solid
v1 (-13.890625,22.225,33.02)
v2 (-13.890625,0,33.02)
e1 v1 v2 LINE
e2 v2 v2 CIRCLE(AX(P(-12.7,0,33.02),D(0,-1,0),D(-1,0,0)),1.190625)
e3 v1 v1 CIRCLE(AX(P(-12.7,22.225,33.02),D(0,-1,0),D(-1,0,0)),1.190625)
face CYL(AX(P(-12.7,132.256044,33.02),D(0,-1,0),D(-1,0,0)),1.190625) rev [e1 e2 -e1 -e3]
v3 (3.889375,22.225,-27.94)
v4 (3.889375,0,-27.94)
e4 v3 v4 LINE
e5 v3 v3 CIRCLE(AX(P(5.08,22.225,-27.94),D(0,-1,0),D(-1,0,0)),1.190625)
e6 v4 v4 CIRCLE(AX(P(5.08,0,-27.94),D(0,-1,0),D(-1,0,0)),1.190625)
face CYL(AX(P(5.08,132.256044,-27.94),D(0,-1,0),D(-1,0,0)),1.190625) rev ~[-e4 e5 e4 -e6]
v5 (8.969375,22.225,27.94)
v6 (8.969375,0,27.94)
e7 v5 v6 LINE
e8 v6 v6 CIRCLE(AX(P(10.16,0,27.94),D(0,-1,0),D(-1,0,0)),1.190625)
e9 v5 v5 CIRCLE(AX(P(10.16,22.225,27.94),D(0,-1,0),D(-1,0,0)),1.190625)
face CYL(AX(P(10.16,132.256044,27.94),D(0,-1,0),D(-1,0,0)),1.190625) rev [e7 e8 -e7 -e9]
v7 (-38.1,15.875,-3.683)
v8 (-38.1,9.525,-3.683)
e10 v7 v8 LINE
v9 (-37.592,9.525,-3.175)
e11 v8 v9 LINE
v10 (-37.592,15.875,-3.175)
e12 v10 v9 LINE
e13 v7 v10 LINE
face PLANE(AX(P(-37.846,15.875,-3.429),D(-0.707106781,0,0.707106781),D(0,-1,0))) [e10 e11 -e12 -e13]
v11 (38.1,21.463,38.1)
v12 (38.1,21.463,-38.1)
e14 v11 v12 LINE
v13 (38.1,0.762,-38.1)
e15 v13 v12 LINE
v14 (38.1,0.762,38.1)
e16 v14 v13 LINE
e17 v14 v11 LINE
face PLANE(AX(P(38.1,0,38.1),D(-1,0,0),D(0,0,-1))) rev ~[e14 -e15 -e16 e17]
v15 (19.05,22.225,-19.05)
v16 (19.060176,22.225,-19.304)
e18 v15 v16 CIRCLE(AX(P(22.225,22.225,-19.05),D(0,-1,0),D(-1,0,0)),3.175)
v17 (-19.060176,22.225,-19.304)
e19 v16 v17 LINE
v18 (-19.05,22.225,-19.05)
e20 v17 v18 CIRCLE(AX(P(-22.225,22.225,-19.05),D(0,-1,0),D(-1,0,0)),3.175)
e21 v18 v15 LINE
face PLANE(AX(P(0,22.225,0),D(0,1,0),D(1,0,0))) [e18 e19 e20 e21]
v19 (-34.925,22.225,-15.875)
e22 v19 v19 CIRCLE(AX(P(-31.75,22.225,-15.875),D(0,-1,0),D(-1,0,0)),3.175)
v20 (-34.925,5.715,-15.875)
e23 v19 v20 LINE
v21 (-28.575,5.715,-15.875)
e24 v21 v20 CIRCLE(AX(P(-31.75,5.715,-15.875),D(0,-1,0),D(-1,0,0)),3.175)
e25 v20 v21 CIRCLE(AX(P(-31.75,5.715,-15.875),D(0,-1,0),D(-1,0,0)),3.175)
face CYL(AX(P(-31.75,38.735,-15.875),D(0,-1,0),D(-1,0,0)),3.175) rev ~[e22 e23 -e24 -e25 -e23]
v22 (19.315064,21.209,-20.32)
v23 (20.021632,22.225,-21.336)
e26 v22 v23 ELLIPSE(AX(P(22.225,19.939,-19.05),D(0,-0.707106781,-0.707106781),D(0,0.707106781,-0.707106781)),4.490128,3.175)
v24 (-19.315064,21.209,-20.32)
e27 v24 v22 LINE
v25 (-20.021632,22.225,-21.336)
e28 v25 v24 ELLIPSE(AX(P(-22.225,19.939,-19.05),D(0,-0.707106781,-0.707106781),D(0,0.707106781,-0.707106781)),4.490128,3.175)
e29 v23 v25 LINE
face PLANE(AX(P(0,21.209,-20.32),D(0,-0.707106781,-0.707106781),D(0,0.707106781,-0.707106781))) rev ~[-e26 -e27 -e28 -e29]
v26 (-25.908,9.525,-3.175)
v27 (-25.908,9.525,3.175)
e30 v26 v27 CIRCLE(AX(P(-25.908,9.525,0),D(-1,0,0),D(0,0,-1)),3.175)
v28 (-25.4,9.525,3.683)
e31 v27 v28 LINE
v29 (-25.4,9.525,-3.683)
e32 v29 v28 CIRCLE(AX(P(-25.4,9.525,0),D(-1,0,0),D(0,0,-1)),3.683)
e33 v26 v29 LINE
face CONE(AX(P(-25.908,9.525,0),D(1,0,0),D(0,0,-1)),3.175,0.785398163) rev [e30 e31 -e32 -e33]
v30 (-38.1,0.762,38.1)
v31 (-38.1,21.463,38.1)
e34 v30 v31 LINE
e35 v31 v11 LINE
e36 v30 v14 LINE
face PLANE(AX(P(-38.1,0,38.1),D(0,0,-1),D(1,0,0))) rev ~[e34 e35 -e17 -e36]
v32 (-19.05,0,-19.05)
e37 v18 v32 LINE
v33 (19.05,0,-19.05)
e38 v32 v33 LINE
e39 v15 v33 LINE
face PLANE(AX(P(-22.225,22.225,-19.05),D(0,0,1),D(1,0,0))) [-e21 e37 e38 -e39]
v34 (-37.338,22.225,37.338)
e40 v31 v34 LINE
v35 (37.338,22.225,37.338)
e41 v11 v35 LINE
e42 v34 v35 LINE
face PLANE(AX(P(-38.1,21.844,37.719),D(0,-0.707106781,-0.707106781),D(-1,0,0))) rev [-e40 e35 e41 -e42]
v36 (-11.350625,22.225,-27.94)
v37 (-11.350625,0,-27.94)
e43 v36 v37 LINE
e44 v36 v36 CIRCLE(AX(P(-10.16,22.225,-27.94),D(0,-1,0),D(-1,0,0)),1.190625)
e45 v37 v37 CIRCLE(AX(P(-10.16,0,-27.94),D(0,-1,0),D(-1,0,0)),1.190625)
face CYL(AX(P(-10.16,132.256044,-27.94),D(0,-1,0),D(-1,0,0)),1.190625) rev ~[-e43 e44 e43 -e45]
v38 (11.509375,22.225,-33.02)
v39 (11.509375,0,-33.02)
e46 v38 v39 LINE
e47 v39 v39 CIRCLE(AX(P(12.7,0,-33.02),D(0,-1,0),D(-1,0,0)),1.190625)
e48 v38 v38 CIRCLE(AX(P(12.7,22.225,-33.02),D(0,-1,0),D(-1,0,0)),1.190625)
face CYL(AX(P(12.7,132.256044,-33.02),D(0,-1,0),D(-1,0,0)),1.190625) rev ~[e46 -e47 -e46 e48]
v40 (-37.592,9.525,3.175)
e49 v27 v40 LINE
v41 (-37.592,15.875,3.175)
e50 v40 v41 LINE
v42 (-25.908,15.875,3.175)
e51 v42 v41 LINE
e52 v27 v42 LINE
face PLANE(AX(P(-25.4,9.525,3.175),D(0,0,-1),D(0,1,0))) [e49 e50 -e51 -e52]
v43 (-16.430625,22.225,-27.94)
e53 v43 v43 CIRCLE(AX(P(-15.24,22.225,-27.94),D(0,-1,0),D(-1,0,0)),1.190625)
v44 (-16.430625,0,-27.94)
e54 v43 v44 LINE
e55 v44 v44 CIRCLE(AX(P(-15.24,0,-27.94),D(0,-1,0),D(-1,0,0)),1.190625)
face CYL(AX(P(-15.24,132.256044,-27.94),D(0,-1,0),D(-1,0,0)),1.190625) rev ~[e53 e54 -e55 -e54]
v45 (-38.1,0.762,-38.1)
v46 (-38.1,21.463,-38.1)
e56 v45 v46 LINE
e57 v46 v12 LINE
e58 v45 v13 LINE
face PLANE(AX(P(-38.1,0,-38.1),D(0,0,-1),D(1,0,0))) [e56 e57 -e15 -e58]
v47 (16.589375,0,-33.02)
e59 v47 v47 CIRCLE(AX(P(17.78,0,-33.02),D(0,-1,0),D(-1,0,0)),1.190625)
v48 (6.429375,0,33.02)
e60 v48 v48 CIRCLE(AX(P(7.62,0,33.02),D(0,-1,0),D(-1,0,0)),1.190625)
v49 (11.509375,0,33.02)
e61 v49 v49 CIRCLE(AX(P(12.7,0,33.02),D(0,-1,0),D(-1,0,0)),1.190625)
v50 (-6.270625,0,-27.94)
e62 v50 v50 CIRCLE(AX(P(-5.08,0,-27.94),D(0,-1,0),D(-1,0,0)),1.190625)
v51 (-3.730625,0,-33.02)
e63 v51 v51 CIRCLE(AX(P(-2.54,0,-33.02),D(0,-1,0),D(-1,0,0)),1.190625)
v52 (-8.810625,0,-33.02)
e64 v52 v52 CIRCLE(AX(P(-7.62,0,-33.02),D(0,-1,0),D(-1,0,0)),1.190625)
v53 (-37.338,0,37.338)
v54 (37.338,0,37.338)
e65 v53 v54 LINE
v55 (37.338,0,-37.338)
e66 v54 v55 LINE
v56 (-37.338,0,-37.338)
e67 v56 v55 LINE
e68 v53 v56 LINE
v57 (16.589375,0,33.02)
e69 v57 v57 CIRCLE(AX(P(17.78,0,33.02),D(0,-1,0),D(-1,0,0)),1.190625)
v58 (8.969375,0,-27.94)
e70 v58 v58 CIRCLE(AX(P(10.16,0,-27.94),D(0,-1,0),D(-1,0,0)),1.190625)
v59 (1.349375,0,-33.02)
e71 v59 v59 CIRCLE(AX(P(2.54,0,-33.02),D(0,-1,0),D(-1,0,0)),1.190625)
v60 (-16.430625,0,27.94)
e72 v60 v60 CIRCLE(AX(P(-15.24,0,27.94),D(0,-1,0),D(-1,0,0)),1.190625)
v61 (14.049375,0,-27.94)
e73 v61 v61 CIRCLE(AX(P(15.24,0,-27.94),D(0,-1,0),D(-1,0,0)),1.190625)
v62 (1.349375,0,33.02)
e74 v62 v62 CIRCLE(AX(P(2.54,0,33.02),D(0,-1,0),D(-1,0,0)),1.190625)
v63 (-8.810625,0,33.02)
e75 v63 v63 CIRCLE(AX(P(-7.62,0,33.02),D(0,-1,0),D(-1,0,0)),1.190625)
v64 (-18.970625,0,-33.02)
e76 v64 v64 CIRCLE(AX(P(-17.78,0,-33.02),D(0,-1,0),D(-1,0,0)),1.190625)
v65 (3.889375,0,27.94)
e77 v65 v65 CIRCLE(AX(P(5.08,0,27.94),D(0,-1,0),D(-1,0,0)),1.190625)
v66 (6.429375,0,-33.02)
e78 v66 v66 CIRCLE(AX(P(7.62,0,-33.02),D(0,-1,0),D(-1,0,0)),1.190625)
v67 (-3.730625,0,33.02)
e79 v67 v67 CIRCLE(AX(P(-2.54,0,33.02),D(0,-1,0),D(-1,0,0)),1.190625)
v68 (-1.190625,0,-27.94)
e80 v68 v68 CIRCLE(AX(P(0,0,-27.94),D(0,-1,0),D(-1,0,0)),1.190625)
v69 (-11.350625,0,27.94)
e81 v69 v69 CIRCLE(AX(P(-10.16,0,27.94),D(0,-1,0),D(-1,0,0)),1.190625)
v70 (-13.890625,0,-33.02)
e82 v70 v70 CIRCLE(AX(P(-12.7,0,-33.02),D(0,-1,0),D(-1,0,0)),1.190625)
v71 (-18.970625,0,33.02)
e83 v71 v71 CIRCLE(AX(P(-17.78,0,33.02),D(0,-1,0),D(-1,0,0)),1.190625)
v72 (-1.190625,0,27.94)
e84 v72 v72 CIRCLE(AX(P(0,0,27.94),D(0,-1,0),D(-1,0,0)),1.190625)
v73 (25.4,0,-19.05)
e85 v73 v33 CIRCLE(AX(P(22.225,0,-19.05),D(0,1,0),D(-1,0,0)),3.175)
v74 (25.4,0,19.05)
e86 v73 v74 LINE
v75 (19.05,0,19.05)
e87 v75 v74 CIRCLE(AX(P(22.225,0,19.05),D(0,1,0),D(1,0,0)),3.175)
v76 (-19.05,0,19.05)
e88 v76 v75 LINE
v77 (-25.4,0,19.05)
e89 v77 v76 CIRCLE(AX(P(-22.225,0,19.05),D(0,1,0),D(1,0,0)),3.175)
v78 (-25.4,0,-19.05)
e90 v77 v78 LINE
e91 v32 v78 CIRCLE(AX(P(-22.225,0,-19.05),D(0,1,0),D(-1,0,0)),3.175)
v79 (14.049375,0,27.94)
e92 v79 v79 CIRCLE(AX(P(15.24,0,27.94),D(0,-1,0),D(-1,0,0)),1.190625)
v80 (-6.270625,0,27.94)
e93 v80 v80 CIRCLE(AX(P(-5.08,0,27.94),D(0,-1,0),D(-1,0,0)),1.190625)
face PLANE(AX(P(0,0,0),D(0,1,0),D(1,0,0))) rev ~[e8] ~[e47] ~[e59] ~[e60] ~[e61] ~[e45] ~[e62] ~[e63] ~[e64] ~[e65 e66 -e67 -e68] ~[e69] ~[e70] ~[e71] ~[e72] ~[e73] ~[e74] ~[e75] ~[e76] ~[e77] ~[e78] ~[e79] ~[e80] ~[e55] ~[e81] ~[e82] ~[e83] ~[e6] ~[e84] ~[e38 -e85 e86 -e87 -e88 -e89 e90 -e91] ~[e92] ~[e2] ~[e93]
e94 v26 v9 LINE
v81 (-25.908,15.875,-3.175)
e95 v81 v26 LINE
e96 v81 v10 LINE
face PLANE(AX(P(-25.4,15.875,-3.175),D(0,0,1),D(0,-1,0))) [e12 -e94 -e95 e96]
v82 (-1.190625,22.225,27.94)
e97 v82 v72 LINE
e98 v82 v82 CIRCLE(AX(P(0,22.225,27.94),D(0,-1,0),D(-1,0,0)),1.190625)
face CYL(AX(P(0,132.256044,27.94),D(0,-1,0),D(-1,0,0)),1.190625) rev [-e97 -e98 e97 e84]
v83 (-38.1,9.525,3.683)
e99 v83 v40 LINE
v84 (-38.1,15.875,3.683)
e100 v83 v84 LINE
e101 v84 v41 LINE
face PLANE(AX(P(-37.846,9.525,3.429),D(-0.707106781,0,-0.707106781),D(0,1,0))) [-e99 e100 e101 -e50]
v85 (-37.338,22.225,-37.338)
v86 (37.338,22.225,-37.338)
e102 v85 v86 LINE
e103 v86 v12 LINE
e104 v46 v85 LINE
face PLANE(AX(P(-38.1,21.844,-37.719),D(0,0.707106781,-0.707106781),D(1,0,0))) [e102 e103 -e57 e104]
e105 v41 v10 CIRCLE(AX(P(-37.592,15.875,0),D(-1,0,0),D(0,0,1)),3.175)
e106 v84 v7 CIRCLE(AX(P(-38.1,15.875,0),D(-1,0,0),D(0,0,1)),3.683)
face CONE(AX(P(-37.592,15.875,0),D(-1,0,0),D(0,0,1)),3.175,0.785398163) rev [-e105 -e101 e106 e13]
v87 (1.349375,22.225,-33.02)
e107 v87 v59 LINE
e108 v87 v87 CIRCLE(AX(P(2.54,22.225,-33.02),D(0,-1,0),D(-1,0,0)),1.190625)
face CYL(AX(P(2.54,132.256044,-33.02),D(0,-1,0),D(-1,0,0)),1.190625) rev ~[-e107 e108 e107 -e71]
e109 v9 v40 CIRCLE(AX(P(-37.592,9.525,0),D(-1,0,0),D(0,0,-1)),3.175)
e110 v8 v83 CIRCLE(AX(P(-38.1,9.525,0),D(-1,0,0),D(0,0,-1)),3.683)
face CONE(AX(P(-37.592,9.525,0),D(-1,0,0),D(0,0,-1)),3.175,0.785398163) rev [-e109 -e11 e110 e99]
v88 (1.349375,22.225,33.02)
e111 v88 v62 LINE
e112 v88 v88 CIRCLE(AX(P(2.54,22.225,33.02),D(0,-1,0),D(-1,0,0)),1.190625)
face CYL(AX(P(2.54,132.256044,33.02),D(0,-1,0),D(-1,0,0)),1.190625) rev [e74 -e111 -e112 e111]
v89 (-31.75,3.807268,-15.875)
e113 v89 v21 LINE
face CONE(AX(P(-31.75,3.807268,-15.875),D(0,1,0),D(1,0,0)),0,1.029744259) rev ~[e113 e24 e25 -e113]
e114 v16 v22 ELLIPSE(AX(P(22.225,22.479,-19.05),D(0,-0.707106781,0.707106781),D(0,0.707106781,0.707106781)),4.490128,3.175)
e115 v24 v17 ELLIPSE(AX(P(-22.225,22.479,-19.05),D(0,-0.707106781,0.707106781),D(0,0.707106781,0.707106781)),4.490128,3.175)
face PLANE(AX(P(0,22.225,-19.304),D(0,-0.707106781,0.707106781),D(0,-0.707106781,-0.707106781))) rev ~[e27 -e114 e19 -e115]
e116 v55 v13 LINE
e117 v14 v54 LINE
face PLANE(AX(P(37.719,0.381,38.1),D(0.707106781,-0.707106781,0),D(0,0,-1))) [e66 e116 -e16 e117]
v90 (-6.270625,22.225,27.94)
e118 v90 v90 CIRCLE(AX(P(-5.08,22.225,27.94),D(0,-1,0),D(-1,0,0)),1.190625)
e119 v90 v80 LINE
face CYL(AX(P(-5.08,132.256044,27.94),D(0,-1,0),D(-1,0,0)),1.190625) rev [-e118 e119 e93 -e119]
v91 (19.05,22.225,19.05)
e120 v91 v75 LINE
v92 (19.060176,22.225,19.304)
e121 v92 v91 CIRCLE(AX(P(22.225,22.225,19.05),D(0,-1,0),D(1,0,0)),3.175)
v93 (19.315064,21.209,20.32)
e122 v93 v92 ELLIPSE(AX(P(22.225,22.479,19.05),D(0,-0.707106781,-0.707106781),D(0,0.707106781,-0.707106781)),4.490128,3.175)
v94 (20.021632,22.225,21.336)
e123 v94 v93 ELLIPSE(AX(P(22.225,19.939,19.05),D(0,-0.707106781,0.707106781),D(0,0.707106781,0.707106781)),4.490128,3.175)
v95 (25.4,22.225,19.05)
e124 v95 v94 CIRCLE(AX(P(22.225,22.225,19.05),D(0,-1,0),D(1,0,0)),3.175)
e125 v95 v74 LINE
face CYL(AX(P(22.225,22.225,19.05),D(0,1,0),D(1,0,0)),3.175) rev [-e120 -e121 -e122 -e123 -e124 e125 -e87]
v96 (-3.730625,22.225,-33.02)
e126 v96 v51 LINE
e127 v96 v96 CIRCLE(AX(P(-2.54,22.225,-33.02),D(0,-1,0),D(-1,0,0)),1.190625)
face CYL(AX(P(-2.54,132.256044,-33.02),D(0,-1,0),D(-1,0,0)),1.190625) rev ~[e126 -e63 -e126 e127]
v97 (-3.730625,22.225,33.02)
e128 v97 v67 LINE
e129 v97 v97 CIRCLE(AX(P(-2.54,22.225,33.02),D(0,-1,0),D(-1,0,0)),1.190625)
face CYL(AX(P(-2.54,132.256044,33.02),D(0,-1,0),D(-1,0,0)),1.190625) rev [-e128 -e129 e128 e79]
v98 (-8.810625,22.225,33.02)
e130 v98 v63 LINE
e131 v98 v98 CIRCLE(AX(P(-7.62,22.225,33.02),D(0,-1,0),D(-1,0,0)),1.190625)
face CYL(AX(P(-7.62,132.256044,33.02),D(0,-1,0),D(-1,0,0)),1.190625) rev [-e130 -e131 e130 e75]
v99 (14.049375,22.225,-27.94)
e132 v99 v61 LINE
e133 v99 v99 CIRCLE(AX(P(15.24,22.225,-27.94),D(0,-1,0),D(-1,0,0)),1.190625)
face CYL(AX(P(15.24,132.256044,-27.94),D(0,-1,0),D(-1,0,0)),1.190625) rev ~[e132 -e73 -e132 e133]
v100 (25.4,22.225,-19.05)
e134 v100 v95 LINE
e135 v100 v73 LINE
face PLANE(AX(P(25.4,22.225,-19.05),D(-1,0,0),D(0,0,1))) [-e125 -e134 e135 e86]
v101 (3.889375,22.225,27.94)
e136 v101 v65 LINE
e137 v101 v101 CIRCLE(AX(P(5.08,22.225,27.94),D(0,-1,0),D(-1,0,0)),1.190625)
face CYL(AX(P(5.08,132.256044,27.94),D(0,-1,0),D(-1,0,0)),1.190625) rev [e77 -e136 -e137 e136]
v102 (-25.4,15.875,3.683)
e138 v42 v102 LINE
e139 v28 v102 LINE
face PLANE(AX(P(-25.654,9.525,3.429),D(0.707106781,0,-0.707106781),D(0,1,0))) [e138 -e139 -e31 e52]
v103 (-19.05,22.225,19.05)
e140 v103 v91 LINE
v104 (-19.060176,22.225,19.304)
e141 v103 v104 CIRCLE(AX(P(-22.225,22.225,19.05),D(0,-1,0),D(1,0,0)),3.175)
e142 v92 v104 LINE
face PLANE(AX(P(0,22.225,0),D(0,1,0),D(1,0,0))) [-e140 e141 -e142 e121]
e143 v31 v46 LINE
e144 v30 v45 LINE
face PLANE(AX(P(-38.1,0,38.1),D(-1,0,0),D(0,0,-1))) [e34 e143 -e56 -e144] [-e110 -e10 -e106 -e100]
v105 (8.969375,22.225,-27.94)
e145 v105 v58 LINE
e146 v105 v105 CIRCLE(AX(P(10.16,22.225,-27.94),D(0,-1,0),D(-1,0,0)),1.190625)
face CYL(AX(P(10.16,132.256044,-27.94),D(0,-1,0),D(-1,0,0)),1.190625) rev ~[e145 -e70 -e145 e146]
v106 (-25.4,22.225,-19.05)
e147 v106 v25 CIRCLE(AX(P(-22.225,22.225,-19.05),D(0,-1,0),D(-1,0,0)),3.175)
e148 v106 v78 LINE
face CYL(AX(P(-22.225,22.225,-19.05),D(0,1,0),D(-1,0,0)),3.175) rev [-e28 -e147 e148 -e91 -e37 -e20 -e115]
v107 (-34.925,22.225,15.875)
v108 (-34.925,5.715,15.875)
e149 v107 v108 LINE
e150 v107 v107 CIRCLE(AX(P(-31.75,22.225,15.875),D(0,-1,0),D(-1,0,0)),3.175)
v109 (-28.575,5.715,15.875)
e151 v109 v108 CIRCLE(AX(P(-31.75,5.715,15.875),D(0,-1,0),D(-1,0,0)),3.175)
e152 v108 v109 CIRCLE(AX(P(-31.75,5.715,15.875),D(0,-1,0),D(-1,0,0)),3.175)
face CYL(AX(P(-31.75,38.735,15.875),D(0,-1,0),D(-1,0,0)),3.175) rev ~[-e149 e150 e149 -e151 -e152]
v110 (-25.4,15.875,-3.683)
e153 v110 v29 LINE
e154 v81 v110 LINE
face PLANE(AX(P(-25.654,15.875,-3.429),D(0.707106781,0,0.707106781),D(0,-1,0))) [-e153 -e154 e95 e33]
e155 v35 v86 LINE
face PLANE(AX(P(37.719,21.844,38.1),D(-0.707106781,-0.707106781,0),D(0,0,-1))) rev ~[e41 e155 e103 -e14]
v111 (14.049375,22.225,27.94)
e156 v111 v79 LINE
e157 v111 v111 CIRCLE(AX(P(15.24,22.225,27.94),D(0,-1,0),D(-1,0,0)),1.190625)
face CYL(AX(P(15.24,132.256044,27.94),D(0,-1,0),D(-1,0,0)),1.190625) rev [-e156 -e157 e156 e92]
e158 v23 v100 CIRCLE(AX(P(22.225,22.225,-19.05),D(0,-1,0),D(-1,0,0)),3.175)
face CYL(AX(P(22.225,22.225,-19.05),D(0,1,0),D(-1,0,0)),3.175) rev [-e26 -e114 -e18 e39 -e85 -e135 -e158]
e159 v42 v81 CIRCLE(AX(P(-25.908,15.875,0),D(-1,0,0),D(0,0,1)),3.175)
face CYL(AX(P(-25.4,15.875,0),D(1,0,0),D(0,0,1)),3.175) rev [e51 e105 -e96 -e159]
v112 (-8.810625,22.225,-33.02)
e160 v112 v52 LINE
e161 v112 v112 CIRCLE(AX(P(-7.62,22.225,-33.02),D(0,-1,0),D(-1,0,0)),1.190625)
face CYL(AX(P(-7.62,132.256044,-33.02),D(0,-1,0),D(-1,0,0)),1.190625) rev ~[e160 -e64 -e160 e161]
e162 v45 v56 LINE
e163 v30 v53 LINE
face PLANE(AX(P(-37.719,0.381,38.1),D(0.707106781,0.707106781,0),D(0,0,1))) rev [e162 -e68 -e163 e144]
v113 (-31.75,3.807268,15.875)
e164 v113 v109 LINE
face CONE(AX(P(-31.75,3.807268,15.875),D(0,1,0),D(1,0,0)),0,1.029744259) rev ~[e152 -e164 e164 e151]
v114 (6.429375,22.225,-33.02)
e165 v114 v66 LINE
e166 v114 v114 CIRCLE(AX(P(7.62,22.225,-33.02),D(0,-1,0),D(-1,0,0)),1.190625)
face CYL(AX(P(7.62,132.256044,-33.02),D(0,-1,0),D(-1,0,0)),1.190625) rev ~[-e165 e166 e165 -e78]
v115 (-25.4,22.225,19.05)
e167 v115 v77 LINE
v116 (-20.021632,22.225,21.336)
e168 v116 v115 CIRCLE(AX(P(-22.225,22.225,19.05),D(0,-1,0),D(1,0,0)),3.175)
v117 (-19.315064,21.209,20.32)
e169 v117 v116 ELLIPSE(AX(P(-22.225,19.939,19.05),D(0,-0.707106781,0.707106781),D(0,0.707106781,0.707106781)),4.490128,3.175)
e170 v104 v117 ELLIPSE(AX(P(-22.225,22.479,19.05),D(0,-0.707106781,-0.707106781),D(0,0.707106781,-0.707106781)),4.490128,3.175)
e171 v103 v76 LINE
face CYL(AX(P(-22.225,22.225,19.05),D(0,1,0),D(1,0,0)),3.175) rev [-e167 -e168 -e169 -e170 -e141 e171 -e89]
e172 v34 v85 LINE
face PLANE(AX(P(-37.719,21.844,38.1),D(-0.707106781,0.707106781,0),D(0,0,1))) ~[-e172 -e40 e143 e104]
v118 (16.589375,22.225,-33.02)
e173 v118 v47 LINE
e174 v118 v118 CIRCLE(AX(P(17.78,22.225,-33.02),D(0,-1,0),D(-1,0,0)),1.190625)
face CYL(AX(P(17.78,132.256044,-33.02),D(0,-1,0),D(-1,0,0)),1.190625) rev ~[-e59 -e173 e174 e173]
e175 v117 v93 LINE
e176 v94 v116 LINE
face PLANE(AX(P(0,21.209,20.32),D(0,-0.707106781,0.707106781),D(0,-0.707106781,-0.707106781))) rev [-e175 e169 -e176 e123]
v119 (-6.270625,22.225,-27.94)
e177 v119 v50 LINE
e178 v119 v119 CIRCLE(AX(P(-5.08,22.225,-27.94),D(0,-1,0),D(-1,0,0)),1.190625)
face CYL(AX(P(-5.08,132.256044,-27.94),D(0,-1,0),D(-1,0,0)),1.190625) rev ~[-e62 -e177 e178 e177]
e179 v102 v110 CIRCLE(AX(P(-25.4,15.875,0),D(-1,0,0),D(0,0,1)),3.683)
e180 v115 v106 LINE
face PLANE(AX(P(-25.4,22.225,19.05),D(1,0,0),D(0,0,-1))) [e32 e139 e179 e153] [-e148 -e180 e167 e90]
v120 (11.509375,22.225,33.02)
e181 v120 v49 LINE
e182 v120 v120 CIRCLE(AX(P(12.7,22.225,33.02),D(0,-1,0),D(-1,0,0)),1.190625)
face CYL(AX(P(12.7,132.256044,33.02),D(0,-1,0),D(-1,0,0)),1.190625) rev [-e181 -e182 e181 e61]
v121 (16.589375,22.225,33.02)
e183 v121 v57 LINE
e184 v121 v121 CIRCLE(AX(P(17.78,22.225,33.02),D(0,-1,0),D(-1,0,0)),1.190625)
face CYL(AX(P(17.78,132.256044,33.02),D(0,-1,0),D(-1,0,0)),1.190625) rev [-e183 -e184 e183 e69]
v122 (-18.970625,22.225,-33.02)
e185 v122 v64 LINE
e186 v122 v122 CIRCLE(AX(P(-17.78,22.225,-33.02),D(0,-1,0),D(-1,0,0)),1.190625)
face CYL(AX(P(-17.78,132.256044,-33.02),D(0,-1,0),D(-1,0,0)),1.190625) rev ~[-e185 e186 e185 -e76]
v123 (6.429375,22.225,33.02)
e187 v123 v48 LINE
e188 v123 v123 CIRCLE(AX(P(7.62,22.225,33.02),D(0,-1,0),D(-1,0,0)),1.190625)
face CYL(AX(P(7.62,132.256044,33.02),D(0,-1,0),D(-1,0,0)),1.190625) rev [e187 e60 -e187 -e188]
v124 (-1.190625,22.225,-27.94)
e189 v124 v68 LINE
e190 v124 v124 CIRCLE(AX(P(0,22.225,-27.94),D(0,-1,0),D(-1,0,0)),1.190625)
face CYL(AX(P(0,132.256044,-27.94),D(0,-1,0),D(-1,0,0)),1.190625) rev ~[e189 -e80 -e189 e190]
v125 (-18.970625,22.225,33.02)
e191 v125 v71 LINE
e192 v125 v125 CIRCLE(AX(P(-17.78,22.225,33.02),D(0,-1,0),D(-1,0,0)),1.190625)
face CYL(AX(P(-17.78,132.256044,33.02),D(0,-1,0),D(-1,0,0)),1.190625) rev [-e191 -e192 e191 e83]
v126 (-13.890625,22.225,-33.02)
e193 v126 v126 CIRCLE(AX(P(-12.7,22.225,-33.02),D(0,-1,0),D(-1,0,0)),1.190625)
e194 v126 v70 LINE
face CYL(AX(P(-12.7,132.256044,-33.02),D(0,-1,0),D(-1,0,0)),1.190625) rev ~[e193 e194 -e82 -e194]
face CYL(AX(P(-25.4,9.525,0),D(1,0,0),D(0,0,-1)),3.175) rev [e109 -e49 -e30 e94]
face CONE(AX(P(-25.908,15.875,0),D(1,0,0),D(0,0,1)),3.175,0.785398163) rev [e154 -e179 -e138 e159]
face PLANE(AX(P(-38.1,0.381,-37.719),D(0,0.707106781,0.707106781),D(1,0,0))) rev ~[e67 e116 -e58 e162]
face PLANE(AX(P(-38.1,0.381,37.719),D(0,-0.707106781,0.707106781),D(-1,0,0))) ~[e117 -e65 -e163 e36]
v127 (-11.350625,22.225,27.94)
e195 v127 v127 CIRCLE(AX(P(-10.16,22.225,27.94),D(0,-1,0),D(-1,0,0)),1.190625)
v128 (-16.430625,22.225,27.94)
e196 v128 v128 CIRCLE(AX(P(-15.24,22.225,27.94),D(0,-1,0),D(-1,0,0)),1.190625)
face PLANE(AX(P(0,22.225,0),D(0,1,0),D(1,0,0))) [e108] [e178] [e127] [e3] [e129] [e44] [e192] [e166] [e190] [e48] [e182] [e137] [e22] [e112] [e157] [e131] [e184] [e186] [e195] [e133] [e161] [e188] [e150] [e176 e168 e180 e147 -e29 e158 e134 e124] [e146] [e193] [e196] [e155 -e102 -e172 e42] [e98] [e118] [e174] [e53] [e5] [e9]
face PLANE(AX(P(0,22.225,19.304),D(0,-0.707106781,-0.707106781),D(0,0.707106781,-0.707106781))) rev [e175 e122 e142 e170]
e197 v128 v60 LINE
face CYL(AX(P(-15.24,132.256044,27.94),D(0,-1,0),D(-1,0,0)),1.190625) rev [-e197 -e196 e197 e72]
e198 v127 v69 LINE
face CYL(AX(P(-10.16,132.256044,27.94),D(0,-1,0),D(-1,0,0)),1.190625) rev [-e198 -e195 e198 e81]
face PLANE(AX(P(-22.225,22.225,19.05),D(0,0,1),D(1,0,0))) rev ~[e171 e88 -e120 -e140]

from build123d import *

# Parameters (mm, degrees)
SKETCH1_W                       = 76.2
SKETCH1_H                       = 76.2
BOSS_EXTRUDE1_DEPTH             = 22.225
SKETCH2_W                       = 44.45
SKETCH2_H                       = 38.1
CUT_EXTRUDE1_DEPTH              = 59.285252208
CUT_EXTRUDE2_DEPTH              = 59.285252208
F_3_32_0_09375_DIAMETER_HOLE1_D = 2.38125
CUT_EXTRUDE4_DEPTH              = 21.59
CUT_EXTRUDE5_REACH              = 79.316
CHAMFER1_SIZE                   = 0.762
CHAMFER2_SIZE                   = 0.508
F_1_4_0_25_DIAMETER_HOLE1_D     = 6.35
F_1_4_0_25_DIAMETER_HOLE1_DEPTH = 16.51
F_1_4_0_25_DIAMETER_HOLE1_TIP   = 1.907732465


with BuildPart() as part:
    # Sketch1 → Boss-Extrude1 (new body)
    with BuildSketch(Plane(origin=(0, 0, 0), x_dir=(1, 0, 0), z_dir=(0, 1, 0))):
        Rectangle(SKETCH1_W, SKETCH1_H)
    extrude(amount=BOSS_EXTRUDE1_DEPTH)

    # Sketch2 → Cut-Extrude1 (cut, through all)
    with BuildSketch(Plane(origin=(0, 22.225, 0), x_dir=(1, 0, 0), z_dir=(0, 1, 0))):
        Rectangle(SKETCH2_W, SKETCH2_H)
    extrude(amount=-CUT_EXTRUDE1_DEPTH, mode=Mode.SUBTRACT)

    # Sketch3 → Cut-Extrude2 (cut, through all)
    with BuildSketch(Plane(origin=(0, 22.225, 0), x_dir=(1, 0, 0), z_dir=(0, 1, 0))):
        with BuildLine():
            Line((-19.05, 19.05), (-19.05, -19.05))
            ThreePointArc((-19.05, -19.05), (-22.225, -22.225), (-25.4, -19.05))
            Line((-25.4, -19.05), (-25.4, 19.05))
            ThreePointArc((-25.4, 19.05), (-22.225, 22.225), (-19.05, 19.05))
        make_face()
        with BuildLine():
            Line((25.4, 19.05), (25.4, -19.05))
            ThreePointArc((25.4, -19.05), (22.225, -22.225), (19.05, -19.05))
            Line((19.05, -19.05), (19.05, 19.05))
            ThreePointArc((19.05, 19.05), (22.225, 22.225), (25.4, 19.05))
        make_face()
    extrude(amount=-CUT_EXTRUDE2_DEPTH, mode=Mode.SUBTRACT)

    # 3/32 (0.09375) Diameter Hole1 (through all)
    with Locations(Plane(origin=(0, 22.225, 0), x_dir=(1, 0, 0), z_dir=(0, 1, 0))):
        with Locations((-15.24, 27.94), (15.24, 27.94), (-17.78, 33.02), (17.78, 33.02), (-12.7, 33.02), (-7.62, 33.02), (-2.54, 33.02), (2.54, 33.02), (7.62, 33.02), (12.7, 33.02), (-10.16, 27.94), (-5.08, 27.94), (0, 27.94), (5.08, 27.94), (10.16, 27.94)):
            f_3_32_0_09375_diameter_hole1 = Hole(F_3_32_0_09375_DIAMETER_HOLE1_D / 2)

    # Mirror1: 3/32 (0.09375) Diameter Hole1 across plane
    add(f_3_32_0_09375_diameter_hole1.mirror(Plane.XY), mode=Mode.SUBTRACT)

    # Sketch8 → Cut-Extrude4 (cut, symmetric)
    with BuildSketch(Plane(origin=(0, 0, 0), x_dir=(0, 0, -1), z_dir=(1, 0, 0))):
        Polygon((19.304, 22.225), (20.32, 21.209), (21.336, 22.225), align=None)
    cut_extrude4 = extrude(amount=CUT_EXTRUDE4_DEPTH, both=True, mode=Mode.SUBTRACT)

    # Mirror2: Cut-Extrude4 across plane
    add(cut_extrude4.mirror(Plane.XY), mode=Mode.SUBTRACT)

    # Sketch9 → Cut-Extrude5 (cut, up to next)
    with BuildSketch(Plane(origin=(-25.4, 0, 0), x_dir=(0, 0, -1), z_dir=(1, 0, 0)), mode=Mode.PRIVATE) as cut_extrude5_sk1:
        with BuildLine():
            Line((3.175, 15.875), (3.175, 9.525))
            ThreePointArc((3.175, 9.525), (0, 6.35), (-3.175, 9.525))
            Line((-3.175, 9.525), (-3.175, 15.875))
            ThreePointArc((-3.175, 15.875), (0, 19.05), (3.175, 15.875))
        make_face()
    cut_extrude5_tool1 = extrude(cut_extrude5_sk1.sketch, amount=-CUT_EXTRUDE5_REACH, mode=Mode.PRIVATE) & part.part
    add(cut_extrude5_tool1.solids().sort_by_distance((-25.4, 12.7, 0))[0], mode=Mode.SUBTRACT)

    # Chamfer1
    chamfer1_edges = [part.edges().sort_by_distance(p)[0] for p in [
        (-38.1, 22.225, 0),
        (0, 22.225, 38.1),
        (38.1, 22.225, 0),
        (0, 0, 38.1),
        (-38.1, 0, 0),
        (0, 0, -38.1),
        (38.1, 0, 0),
        (0, 22.225, -38.1),
    ]]
    chamfer(chamfer1_edges, length=CHAMFER1_SIZE)

    # Chamfer2
    chamfer2_edges = [part.edges().sort_by_distance(p)[0] for p in [
        (-25.4, 19.05, 0),
        (-25.4, 12.7, 3.175),
        (-25.4, 6.35, 0),
        (-25.4, 12.7, -3.175),
        (-38.1, 12.7, 3.175),
        (-38.1, 19.05, 0),
        (-38.1, 12.7, -3.175),
        (-38.1, 6.35, 0),
    ]]
    chamfer(chamfer2_edges, length=CHAMFER2_SIZE)

    # 1/4 (0.25) Diameter Hole1
    with Locations(Plane(origin=(0, 22.225, 0), x_dir=(1, 0, 0), z_dir=(0, 1, 0))):
        with Locations((-31.75, 15.875), (-31.75, -15.875)):
            Hole(F_1_4_0_25_DIAMETER_HOLE1_D / 2, depth=F_1_4_0_25_DIAMETER_HOLE1_DEPTH)
            with Locations((0, 0, -(F_1_4_0_25_DIAMETER_HOLE1_DEPTH + F_1_4_0_25_DIAMETER_HOLE1_TIP / 2))):  # 118° drill point
                Cone(0, F_1_4_0_25_DIAMETER_HOLE1_D / 2, F_1_4_0_25_DIAMETER_HOLE1_TIP, mode=Mode.SUBTRACT)


solid = part.part
